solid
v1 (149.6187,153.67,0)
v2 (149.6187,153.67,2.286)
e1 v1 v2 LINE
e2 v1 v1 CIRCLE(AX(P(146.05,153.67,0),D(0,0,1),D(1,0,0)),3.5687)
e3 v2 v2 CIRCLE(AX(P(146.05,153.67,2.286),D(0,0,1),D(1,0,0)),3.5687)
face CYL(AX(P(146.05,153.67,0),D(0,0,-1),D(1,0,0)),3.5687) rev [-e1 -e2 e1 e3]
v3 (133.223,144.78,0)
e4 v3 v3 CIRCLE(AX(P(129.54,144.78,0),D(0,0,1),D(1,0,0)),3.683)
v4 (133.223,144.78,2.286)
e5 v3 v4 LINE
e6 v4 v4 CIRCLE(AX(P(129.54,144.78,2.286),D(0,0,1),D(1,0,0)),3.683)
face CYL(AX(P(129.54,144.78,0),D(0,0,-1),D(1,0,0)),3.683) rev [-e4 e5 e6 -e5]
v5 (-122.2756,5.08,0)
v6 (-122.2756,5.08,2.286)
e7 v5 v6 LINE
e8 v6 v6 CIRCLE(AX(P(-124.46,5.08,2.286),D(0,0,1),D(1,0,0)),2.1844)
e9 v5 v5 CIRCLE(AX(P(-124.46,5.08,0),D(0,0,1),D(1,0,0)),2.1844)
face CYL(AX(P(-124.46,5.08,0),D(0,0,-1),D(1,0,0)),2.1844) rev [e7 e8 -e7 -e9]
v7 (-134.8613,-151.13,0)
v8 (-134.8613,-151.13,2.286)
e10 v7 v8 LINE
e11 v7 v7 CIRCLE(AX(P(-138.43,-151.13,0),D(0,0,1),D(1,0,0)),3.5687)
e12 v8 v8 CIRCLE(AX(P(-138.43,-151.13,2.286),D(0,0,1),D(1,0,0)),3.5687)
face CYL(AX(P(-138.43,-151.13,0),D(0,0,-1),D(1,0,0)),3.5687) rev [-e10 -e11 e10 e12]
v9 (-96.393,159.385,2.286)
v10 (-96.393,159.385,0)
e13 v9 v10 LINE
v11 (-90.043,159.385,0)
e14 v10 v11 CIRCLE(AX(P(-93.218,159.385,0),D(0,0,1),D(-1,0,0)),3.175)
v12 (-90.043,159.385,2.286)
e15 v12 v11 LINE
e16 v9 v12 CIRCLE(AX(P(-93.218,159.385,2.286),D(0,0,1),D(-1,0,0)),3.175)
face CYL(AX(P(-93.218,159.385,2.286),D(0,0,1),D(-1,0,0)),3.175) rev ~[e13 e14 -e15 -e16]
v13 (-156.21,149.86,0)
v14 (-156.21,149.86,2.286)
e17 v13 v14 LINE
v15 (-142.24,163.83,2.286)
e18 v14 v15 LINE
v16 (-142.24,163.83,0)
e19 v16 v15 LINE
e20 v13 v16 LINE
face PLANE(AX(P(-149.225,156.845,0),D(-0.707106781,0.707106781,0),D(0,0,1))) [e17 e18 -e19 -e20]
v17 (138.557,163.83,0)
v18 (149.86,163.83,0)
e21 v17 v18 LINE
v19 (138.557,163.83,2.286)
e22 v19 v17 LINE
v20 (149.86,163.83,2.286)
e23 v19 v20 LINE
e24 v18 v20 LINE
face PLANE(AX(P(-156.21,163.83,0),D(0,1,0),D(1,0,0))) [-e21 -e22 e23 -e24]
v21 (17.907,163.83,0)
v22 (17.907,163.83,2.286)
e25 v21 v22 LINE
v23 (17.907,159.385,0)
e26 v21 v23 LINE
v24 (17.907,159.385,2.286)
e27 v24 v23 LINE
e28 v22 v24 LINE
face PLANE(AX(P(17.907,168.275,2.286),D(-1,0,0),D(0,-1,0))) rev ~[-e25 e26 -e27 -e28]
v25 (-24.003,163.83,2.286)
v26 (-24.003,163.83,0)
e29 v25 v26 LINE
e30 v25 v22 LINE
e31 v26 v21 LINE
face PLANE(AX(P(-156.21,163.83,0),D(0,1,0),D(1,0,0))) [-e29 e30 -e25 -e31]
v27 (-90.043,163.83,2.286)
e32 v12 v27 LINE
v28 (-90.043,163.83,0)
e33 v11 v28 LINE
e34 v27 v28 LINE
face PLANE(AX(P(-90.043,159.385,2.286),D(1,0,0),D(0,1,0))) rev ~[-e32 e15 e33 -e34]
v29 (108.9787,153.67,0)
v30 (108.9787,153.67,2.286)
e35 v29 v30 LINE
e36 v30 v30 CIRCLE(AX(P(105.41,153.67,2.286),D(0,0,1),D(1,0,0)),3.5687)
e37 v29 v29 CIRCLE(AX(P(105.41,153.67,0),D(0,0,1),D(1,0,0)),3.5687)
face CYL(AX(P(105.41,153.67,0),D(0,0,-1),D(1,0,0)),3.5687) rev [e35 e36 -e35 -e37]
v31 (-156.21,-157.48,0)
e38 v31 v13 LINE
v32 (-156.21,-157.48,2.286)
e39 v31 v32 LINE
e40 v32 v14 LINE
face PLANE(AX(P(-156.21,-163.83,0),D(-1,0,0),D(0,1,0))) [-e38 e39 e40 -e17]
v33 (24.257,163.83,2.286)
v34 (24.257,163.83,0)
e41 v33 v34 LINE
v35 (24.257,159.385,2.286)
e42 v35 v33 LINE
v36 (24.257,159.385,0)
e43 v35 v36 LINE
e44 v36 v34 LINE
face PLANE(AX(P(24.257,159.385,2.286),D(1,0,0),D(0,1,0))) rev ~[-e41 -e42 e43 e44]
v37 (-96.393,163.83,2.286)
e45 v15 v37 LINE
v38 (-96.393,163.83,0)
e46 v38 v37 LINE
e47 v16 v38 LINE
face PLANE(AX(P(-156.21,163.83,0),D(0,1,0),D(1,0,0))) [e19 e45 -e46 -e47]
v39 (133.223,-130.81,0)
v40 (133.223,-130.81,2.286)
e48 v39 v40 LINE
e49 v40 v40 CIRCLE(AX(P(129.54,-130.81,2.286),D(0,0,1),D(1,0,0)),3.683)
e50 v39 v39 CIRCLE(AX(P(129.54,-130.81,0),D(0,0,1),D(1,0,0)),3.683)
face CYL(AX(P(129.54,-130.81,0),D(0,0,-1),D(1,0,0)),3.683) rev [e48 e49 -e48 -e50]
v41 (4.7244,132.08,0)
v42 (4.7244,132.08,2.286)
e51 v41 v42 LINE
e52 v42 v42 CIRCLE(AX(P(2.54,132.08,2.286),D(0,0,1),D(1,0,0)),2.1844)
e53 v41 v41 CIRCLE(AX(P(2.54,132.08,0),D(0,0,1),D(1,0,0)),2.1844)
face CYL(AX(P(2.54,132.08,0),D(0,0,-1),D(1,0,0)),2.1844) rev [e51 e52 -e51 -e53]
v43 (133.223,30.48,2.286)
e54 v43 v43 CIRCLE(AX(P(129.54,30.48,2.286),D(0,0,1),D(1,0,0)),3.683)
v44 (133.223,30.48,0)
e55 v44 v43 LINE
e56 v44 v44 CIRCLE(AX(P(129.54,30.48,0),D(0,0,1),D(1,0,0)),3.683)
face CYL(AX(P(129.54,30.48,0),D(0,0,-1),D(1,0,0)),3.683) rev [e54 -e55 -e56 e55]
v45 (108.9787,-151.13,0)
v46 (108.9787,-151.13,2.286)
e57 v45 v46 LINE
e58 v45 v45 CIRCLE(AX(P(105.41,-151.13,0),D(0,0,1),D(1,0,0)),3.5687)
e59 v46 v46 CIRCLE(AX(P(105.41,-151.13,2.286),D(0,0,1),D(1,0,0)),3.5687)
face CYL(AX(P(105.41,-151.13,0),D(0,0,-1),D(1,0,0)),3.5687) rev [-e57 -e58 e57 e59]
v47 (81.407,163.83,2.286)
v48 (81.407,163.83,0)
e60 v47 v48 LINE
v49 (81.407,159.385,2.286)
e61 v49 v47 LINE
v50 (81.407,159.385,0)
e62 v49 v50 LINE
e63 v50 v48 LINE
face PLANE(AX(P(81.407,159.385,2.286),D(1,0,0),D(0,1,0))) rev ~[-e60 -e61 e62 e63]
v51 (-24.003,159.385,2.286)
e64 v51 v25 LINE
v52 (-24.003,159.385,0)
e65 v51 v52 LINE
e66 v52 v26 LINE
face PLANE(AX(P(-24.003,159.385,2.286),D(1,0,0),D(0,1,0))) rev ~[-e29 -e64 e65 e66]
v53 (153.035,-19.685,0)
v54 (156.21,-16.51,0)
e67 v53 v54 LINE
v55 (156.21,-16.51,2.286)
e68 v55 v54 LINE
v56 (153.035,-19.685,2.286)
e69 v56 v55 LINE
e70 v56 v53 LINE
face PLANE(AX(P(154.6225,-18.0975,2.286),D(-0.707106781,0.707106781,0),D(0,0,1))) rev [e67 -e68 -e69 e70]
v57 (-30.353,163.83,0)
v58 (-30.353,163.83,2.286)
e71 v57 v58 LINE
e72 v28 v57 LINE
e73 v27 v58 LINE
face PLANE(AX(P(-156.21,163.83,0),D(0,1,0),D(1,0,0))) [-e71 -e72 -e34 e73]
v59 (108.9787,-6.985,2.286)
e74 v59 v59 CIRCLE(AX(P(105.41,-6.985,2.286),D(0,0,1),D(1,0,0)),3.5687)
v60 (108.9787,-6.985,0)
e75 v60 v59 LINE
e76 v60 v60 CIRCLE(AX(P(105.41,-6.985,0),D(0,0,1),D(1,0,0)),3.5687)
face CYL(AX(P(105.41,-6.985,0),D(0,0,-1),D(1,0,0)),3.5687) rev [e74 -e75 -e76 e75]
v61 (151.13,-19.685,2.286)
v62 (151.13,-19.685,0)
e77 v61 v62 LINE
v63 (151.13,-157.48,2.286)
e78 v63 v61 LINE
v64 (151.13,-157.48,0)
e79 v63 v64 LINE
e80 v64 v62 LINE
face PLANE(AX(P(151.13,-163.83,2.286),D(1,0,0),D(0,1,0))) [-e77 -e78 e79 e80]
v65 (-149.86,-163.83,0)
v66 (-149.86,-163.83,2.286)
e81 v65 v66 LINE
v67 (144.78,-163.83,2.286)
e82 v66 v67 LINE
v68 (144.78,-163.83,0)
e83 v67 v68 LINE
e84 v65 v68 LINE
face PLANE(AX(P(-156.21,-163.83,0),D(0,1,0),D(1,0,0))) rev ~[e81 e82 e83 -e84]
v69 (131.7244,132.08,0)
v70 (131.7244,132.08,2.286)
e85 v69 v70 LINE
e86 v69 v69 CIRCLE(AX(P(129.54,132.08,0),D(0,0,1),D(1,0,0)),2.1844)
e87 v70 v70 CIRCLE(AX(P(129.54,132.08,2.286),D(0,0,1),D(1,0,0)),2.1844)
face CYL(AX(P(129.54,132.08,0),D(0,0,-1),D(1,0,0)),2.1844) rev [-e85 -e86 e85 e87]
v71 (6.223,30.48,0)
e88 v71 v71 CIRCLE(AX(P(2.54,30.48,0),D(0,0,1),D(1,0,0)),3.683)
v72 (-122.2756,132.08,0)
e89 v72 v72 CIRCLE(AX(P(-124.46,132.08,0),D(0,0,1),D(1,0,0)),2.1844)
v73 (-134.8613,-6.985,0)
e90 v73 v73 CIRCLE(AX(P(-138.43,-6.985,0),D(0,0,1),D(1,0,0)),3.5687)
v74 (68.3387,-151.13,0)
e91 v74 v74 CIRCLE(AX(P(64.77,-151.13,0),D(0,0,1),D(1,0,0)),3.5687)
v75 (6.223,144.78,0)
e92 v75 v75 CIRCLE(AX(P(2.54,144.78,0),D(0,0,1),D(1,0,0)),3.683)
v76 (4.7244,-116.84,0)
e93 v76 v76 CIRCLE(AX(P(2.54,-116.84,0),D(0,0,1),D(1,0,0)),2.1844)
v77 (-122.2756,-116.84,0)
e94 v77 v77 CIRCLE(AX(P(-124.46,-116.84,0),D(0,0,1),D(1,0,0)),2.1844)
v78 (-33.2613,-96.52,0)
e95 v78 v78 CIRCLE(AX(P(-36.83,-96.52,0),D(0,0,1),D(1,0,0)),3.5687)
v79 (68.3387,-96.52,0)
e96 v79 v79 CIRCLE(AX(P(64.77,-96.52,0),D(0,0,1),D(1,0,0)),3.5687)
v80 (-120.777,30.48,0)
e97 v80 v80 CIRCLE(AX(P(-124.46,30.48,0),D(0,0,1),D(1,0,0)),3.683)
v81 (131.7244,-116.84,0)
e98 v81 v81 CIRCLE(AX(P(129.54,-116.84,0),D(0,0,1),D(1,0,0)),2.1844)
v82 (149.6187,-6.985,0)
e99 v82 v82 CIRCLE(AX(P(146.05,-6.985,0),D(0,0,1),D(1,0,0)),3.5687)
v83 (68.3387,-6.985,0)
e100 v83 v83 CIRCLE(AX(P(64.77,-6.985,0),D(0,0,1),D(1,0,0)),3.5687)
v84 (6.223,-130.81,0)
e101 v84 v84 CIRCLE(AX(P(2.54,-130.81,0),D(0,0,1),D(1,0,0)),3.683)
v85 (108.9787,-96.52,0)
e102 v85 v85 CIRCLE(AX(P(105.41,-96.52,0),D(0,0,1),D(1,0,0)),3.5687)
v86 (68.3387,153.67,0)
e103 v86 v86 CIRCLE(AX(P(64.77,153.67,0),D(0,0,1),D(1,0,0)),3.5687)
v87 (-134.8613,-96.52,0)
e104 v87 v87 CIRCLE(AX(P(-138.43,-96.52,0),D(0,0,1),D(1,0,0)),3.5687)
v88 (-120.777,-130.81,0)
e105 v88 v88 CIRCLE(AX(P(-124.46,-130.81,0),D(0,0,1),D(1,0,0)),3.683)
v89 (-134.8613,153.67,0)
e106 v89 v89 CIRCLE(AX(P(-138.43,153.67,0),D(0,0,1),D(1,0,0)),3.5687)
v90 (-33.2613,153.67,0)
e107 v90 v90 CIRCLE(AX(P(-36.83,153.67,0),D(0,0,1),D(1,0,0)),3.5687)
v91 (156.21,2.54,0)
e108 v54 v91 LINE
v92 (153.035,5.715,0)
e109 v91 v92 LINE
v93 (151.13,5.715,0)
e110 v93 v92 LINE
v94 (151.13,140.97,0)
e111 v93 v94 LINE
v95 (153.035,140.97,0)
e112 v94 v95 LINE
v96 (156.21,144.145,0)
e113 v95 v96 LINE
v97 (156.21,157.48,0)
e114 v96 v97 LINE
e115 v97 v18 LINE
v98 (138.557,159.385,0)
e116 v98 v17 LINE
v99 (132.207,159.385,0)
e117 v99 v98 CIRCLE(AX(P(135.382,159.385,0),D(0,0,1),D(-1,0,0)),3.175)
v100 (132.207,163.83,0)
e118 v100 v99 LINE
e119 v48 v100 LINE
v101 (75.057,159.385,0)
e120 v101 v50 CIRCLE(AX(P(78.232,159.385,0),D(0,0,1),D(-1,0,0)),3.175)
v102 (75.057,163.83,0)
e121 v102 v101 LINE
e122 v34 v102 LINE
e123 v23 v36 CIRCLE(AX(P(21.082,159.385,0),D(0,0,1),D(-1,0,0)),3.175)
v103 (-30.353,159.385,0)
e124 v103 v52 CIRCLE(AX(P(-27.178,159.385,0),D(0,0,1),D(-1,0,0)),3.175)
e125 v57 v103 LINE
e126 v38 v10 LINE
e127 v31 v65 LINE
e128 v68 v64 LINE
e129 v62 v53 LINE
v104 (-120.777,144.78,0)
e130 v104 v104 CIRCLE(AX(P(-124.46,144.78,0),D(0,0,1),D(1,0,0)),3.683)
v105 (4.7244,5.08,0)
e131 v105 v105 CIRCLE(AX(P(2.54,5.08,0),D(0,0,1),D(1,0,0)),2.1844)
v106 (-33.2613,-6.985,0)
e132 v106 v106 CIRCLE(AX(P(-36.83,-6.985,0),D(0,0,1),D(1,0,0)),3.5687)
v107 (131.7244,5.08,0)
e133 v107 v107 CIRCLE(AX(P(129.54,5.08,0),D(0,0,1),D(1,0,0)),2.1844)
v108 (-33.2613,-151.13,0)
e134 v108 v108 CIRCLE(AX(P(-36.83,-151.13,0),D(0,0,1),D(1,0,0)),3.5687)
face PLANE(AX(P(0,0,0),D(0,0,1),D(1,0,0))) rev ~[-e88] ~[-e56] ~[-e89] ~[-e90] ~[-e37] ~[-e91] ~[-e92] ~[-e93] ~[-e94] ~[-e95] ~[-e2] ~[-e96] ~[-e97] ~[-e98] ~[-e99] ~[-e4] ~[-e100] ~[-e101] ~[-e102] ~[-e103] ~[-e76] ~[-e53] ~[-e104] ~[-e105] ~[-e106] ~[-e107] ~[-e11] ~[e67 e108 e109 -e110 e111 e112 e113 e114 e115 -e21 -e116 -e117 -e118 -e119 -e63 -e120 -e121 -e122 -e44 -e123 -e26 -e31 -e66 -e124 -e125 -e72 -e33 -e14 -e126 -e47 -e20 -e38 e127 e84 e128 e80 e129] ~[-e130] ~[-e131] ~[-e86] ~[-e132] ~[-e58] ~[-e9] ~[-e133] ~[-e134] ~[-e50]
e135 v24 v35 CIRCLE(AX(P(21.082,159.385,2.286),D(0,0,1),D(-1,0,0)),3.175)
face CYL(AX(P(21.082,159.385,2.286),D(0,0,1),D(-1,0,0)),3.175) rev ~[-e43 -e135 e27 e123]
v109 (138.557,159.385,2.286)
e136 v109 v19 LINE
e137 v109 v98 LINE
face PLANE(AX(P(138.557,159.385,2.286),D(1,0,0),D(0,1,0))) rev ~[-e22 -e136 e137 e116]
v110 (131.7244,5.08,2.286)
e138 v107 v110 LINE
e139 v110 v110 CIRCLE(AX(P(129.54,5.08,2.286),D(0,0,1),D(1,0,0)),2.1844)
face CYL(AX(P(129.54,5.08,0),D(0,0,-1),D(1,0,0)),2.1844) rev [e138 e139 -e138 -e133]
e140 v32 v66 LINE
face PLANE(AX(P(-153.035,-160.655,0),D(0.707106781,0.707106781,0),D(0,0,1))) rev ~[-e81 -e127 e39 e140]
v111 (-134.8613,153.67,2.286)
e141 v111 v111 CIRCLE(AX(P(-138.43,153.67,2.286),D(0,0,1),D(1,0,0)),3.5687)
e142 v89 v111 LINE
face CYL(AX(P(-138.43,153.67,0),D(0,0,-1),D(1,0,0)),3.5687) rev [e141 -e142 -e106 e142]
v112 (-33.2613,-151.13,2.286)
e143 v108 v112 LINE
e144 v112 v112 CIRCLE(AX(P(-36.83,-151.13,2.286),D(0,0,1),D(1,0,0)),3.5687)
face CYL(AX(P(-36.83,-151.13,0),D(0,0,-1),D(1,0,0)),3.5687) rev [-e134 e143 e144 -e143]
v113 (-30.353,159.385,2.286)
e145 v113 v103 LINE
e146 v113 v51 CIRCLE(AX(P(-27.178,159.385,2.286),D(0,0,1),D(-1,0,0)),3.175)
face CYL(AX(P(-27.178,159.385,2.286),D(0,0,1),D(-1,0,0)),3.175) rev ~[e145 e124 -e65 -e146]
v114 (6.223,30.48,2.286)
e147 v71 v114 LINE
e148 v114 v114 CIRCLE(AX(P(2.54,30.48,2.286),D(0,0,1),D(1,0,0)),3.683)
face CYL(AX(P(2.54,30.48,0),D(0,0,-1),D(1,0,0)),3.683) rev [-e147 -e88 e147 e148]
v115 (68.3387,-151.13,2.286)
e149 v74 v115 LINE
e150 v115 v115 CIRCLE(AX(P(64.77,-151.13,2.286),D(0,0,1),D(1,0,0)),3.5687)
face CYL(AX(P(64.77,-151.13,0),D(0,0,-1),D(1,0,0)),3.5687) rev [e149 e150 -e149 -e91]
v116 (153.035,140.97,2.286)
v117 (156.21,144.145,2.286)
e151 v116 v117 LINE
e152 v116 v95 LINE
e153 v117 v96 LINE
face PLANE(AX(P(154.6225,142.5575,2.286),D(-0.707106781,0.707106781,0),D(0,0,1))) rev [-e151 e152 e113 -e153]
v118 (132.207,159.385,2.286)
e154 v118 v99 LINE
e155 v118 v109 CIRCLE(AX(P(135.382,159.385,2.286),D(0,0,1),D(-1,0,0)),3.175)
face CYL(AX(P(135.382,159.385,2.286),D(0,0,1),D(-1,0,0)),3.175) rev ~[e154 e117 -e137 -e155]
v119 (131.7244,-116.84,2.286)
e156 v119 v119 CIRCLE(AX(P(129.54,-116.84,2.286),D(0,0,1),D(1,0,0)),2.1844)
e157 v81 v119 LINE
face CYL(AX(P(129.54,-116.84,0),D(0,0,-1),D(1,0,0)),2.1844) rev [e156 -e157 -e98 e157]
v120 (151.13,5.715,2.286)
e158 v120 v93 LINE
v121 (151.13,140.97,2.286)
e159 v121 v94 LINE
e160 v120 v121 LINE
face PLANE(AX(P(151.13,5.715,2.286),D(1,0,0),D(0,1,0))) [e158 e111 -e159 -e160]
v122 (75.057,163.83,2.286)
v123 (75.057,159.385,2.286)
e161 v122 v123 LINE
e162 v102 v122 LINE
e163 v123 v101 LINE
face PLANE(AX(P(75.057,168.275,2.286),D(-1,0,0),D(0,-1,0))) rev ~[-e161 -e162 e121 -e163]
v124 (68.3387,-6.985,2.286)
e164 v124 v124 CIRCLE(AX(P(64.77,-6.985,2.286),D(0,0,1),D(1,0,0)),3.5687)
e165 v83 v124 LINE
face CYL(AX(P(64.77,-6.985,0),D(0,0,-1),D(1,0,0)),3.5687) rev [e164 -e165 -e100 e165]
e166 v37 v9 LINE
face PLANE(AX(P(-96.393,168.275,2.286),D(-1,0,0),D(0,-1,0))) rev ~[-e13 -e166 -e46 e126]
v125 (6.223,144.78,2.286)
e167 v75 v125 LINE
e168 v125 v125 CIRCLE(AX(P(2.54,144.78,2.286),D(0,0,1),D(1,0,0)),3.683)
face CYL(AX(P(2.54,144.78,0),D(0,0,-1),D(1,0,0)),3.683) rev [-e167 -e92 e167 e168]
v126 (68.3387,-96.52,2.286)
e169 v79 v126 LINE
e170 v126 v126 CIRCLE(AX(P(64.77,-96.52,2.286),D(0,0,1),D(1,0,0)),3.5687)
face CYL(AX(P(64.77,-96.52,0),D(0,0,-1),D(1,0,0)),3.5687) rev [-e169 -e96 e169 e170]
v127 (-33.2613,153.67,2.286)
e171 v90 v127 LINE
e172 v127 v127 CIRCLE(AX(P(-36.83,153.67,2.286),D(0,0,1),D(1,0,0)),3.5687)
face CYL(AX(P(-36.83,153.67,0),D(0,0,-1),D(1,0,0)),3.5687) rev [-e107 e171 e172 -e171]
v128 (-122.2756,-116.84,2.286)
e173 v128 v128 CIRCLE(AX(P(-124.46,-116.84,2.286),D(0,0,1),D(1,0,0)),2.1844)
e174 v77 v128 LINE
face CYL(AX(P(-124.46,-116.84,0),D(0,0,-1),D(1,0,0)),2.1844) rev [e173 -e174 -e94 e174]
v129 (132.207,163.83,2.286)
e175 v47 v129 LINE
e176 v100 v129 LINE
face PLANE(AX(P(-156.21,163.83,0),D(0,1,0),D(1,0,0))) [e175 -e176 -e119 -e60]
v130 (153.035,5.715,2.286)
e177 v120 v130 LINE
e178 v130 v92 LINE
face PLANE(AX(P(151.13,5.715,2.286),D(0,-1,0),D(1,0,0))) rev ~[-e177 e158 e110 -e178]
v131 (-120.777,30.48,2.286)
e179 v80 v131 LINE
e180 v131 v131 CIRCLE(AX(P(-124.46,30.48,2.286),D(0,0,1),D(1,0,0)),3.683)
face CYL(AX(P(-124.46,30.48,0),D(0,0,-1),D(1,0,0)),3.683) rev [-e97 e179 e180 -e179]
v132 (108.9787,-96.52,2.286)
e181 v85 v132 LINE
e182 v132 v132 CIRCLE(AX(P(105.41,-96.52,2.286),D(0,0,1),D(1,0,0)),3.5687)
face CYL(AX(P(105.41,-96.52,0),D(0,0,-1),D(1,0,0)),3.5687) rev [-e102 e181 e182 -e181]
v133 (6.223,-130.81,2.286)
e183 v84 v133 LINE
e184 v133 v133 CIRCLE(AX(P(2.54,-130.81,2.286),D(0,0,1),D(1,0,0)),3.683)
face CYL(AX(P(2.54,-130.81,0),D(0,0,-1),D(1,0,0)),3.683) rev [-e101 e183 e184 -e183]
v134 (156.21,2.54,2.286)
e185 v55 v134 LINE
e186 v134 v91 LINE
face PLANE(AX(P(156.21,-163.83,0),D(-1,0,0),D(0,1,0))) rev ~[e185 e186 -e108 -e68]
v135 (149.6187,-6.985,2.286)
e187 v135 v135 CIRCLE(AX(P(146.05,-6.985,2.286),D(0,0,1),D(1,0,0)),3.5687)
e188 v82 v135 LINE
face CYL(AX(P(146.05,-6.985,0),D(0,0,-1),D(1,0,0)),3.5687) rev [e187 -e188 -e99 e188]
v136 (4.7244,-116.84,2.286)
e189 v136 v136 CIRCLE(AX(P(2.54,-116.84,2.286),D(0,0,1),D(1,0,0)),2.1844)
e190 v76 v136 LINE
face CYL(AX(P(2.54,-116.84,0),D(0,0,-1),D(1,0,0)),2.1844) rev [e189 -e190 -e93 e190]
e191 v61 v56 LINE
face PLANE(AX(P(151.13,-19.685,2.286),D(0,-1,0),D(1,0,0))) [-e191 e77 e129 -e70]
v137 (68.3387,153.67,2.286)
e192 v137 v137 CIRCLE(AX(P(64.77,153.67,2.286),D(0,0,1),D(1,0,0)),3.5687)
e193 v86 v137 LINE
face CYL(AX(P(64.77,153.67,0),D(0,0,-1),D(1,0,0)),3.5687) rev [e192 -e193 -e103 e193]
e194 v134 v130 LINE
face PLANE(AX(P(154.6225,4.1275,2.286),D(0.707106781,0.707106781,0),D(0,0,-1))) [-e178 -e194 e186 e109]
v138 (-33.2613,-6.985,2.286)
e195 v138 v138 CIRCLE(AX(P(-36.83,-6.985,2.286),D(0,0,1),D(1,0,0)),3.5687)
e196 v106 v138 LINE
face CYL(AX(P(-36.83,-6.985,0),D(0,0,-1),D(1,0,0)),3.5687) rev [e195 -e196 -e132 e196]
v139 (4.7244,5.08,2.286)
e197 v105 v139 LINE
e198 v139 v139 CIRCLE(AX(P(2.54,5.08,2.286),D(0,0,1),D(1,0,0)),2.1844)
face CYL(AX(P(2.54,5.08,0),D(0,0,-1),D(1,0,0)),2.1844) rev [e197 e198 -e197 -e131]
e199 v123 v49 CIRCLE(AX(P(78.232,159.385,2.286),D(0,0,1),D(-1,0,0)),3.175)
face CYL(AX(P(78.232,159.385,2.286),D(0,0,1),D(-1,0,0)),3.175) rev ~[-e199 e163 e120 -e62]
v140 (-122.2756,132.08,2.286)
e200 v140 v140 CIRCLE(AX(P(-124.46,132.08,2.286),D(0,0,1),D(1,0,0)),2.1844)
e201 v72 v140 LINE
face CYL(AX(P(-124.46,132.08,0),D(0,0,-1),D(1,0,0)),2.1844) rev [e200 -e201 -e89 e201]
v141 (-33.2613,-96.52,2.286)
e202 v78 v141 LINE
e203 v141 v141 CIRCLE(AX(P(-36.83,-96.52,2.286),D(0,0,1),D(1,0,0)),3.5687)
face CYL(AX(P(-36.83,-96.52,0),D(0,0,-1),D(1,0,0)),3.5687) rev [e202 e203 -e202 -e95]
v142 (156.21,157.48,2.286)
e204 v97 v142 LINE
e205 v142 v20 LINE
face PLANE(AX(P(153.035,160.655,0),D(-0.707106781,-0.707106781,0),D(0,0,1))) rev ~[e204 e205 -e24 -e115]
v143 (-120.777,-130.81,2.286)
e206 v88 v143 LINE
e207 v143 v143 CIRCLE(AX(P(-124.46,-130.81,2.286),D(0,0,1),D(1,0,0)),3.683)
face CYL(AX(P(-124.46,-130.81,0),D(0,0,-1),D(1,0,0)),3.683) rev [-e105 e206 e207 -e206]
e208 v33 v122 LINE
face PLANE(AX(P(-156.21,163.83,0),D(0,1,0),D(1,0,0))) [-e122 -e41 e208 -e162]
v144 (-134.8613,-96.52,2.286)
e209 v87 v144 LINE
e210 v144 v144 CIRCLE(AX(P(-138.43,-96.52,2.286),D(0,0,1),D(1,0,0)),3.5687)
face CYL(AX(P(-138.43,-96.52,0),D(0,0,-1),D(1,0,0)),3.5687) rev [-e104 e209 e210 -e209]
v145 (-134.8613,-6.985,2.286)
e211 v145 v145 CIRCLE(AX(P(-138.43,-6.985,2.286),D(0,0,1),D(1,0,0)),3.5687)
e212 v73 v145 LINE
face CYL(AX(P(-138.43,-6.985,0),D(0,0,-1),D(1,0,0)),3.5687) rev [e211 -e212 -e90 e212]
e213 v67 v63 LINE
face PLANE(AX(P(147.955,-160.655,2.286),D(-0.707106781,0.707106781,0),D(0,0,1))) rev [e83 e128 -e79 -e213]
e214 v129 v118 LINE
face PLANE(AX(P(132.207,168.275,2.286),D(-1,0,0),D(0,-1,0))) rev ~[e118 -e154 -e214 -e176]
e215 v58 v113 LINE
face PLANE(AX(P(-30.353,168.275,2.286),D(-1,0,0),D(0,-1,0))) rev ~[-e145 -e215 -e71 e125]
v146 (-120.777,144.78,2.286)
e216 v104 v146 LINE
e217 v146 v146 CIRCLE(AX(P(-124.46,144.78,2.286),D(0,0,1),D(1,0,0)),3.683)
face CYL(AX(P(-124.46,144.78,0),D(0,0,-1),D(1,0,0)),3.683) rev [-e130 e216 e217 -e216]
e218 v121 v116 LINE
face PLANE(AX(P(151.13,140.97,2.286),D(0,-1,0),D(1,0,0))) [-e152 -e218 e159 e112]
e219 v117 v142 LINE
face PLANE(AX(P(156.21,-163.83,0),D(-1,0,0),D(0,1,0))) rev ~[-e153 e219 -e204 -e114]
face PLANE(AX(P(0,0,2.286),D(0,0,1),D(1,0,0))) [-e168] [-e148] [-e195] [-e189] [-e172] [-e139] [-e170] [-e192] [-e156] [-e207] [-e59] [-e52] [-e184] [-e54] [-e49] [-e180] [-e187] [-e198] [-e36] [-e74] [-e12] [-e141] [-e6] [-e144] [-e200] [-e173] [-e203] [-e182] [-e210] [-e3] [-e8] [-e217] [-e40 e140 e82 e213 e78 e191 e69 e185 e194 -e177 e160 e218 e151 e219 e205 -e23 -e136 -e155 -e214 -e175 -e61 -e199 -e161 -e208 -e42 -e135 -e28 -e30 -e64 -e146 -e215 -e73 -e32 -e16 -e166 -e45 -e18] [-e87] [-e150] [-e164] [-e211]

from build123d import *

# Parameters (mm, degrees)
F0_W     = 312.42
F0_H     = 327.66
F0_R     = 3.5687
F0_R_2   = 3.683
F0_R_3   = 2.1844
F1_DEPTH = 2.286
F2_W     = 6.35
F2_H     = 4.445
F2_W_2   = 5.08
F2_H_2   = 135.255
F2_H_3   = 144.145
F3_DEPTH = 2.287
F4_SIZE  = 13.97
F5_SIZE  = 6.35
F6_SIZE  = 3.175


with BuildPart() as f1:
    # F0 (on Top) → F1 (new body)
    with BuildSketch(Plane.XY):
        Rectangle(F0_W, F0_H)
        with Locations((-138.43, -151.13)):
            Circle(F0_R, mode=Mode.SUBTRACT)
        with Locations((-124.46, -130.81)):
            Circle(F0_R_2, mode=Mode.SUBTRACT)
        with Locations((-124.46, -116.84)):
            Circle(F0_R_3, mode=Mode.SUBTRACT)
        with Locations((-138.43, -96.52)):
            Circle(F0_R, mode=Mode.SUBTRACT)
        with Locations((-36.83, -151.13)):
            Circle(F0_R, mode=Mode.SUBTRACT)
        with Locations((-36.83, -96.52)):
            Circle(F0_R, mode=Mode.SUBTRACT)
        with Locations((-138.43, -6.985)):
            Circle(F0_R, mode=Mode.SUBTRACT)
        with Locations((-36.83, -6.985)):
            Circle(F0_R, mode=Mode.SUBTRACT)
        with Locations((2.54, -130.81)):
            Circle(F0_R_2, mode=Mode.SUBTRACT)
        with Locations((64.77, -151.13)):
            Circle(F0_R, mode=Mode.SUBTRACT)
        with Locations((2.54, -116.84)):
            Circle(F0_R_3, mode=Mode.SUBTRACT)
        with Locations((64.77, -96.52)):
            Circle(F0_R, mode=Mode.SUBTRACT)
        with Locations((105.41, -151.13)):
            Circle(F0_R, mode=Mode.SUBTRACT)
        with Locations((129.54, -130.81)):
            Circle(F0_R_2, mode=Mode.SUBTRACT)
        with Locations((105.41, -96.52)):
            Circle(F0_R, mode=Mode.SUBTRACT)
        with Locations((129.54, -116.84)):
            Circle(F0_R_3, mode=Mode.SUBTRACT)
        with Locations((64.77, -6.985)):
            Circle(F0_R, mode=Mode.SUBTRACT)
        with Locations((105.41, -6.985)):
            Circle(F0_R, mode=Mode.SUBTRACT)
        with Locations((146.05, -6.985)):
            Circle(F0_R, mode=Mode.SUBTRACT)
        with Locations((-124.46, 5.08)):
            Circle(F0_R_3, mode=Mode.SUBTRACT)
        with Locations((-124.46, 30.48)):
            Circle(F0_R_2, mode=Mode.SUBTRACT)
        with Locations((-124.46, 132.08)):
            Circle(F0_R_3, mode=Mode.SUBTRACT)
        with Locations((-138.43, 153.67)):
            Circle(F0_R, mode=Mode.SUBTRACT)
        with Locations((-124.46, 144.78)):
            Circle(F0_R_2, mode=Mode.SUBTRACT)
        with Locations((-36.83, 153.67)):
            Circle(F0_R, mode=Mode.SUBTRACT)
        with Locations((2.54, 5.08)):
            Circle(F0_R_3, mode=Mode.SUBTRACT)
        with Locations((2.54, 30.48)):
            Circle(F0_R_2, mode=Mode.SUBTRACT)
        with Locations((129.54, 5.08)):
            Circle(F0_R_3, mode=Mode.SUBTRACT)
        with Locations((129.54, 30.48)):
            Circle(F0_R_2, mode=Mode.SUBTRACT)
        with Locations((2.54, 132.08)):
            Circle(F0_R_3, mode=Mode.SUBTRACT)
        with Locations((2.54, 144.78)):
            Circle(F0_R_2, mode=Mode.SUBTRACT)
        with Locations((64.77, 153.67)):
            Circle(F0_R, mode=Mode.SUBTRACT)
        with Locations((105.41, 153.67)):
            Circle(F0_R, mode=Mode.SUBTRACT)
        with Locations((129.54, 132.08)):
            Circle(F0_R_3, mode=Mode.SUBTRACT)
        with Locations((129.54, 144.78)):
            Circle(F0_R_2, mode=Mode.SUBTRACT)
        with Locations((146.05, 153.67)):
            Circle(F0_R, mode=Mode.SUBTRACT)
    extrude(amount=F1_DEPTH)

    # F2 (on face) → F3 (cut, through all)
    with BuildSketch(Plane.XY.offset(2.286)):
        with BuildLine():
            ThreePointArc((-96.393, 159.385), (-93.218, 156.21), (-90.043, 159.385))
            Line((-90.043, 159.385), (-96.393, 159.385))
        make_face()
        with Locations((-93.218, 161.6075)):
            Rectangle(F2_W, F2_H)
        with Locations((-93.218, 166.0525)):
            Rectangle(F2_W, F2_H)
        with Locations((-27.178, 166.0525)):
            Rectangle(F2_W, F2_H)
        with Locations((-27.178, 161.6075)):
            Rectangle(F2_W, F2_H)
        with BuildLine():
            Line((-24.003, 159.385), (-30.353, 159.385))
            ThreePointArc((-30.353, 159.385), (-27.178, 156.21), (-24.003, 159.385))
        make_face()
        with Locations((21.082, 166.0525)):
            Rectangle(F2_W, F2_H)
        with Locations((21.082, 161.6075)):
            Rectangle(F2_W, F2_H)
        with BuildLine():
            Line((24.257, 159.385), (17.907, 159.385))
            ThreePointArc((17.907, 159.385), (21.082, 156.21), (24.257, 159.385))
        make_face()
        with Locations((78.232, 166.0525)):
            Rectangle(F2_W, F2_H)
        with Locations((78.232, 161.6075)):
            Rectangle(F2_W, F2_H)
        with BuildLine():
            Line((81.407, 159.385), (75.057, 159.385))
            ThreePointArc((75.057, 159.385), (78.232, 156.21), (81.407, 159.385))
        make_face()
        with Locations((135.382, 166.0525)):
            Rectangle(F2_W, F2_H)
        with Locations((135.382, 161.6075)):
            Rectangle(F2_W, F2_H)
        with BuildLine():
            Line((138.557, 159.385), (132.207, 159.385))
            ThreePointArc((132.207, 159.385), (135.382, 156.21), (138.557, 159.385))
        make_face()
        with Locations((153.67, 73.3425)):
            Rectangle(F2_W_2, F2_H_2)
        with Locations((153.67, -91.7575)):
            Rectangle(F2_W_2, F2_H_3)
    extrude(amount=-F3_DEPTH, mode=Mode.SUBTRACT)

    # F4
    f4_edges = [f1.edges().sort_by_distance(p)[0] for p in [
        (-156.21, 163.83, 1.143),
    ]]
    chamfer(f4_edges, length=F4_SIZE)

    # F5
    f5_edges = [f1.edges().sort_by_distance(p)[0] for p in [
        (-156.21, -163.83, 1.143),
        (151.13, -163.83, 1.143),
        (156.21, 163.83, 1.143),
    ]]
    chamfer(f5_edges, length=F5_SIZE)

    # F6
    f6_edges = [f1.edges().sort_by_distance(p)[0] for p in [
        (156.21, 140.97, 1.143),
        (156.21, 5.715, 1.143),
        (156.21, -19.685, 1.143),
    ]]
    chamfer(f6_edges, length=F6_SIZE)


solid = f1.part
